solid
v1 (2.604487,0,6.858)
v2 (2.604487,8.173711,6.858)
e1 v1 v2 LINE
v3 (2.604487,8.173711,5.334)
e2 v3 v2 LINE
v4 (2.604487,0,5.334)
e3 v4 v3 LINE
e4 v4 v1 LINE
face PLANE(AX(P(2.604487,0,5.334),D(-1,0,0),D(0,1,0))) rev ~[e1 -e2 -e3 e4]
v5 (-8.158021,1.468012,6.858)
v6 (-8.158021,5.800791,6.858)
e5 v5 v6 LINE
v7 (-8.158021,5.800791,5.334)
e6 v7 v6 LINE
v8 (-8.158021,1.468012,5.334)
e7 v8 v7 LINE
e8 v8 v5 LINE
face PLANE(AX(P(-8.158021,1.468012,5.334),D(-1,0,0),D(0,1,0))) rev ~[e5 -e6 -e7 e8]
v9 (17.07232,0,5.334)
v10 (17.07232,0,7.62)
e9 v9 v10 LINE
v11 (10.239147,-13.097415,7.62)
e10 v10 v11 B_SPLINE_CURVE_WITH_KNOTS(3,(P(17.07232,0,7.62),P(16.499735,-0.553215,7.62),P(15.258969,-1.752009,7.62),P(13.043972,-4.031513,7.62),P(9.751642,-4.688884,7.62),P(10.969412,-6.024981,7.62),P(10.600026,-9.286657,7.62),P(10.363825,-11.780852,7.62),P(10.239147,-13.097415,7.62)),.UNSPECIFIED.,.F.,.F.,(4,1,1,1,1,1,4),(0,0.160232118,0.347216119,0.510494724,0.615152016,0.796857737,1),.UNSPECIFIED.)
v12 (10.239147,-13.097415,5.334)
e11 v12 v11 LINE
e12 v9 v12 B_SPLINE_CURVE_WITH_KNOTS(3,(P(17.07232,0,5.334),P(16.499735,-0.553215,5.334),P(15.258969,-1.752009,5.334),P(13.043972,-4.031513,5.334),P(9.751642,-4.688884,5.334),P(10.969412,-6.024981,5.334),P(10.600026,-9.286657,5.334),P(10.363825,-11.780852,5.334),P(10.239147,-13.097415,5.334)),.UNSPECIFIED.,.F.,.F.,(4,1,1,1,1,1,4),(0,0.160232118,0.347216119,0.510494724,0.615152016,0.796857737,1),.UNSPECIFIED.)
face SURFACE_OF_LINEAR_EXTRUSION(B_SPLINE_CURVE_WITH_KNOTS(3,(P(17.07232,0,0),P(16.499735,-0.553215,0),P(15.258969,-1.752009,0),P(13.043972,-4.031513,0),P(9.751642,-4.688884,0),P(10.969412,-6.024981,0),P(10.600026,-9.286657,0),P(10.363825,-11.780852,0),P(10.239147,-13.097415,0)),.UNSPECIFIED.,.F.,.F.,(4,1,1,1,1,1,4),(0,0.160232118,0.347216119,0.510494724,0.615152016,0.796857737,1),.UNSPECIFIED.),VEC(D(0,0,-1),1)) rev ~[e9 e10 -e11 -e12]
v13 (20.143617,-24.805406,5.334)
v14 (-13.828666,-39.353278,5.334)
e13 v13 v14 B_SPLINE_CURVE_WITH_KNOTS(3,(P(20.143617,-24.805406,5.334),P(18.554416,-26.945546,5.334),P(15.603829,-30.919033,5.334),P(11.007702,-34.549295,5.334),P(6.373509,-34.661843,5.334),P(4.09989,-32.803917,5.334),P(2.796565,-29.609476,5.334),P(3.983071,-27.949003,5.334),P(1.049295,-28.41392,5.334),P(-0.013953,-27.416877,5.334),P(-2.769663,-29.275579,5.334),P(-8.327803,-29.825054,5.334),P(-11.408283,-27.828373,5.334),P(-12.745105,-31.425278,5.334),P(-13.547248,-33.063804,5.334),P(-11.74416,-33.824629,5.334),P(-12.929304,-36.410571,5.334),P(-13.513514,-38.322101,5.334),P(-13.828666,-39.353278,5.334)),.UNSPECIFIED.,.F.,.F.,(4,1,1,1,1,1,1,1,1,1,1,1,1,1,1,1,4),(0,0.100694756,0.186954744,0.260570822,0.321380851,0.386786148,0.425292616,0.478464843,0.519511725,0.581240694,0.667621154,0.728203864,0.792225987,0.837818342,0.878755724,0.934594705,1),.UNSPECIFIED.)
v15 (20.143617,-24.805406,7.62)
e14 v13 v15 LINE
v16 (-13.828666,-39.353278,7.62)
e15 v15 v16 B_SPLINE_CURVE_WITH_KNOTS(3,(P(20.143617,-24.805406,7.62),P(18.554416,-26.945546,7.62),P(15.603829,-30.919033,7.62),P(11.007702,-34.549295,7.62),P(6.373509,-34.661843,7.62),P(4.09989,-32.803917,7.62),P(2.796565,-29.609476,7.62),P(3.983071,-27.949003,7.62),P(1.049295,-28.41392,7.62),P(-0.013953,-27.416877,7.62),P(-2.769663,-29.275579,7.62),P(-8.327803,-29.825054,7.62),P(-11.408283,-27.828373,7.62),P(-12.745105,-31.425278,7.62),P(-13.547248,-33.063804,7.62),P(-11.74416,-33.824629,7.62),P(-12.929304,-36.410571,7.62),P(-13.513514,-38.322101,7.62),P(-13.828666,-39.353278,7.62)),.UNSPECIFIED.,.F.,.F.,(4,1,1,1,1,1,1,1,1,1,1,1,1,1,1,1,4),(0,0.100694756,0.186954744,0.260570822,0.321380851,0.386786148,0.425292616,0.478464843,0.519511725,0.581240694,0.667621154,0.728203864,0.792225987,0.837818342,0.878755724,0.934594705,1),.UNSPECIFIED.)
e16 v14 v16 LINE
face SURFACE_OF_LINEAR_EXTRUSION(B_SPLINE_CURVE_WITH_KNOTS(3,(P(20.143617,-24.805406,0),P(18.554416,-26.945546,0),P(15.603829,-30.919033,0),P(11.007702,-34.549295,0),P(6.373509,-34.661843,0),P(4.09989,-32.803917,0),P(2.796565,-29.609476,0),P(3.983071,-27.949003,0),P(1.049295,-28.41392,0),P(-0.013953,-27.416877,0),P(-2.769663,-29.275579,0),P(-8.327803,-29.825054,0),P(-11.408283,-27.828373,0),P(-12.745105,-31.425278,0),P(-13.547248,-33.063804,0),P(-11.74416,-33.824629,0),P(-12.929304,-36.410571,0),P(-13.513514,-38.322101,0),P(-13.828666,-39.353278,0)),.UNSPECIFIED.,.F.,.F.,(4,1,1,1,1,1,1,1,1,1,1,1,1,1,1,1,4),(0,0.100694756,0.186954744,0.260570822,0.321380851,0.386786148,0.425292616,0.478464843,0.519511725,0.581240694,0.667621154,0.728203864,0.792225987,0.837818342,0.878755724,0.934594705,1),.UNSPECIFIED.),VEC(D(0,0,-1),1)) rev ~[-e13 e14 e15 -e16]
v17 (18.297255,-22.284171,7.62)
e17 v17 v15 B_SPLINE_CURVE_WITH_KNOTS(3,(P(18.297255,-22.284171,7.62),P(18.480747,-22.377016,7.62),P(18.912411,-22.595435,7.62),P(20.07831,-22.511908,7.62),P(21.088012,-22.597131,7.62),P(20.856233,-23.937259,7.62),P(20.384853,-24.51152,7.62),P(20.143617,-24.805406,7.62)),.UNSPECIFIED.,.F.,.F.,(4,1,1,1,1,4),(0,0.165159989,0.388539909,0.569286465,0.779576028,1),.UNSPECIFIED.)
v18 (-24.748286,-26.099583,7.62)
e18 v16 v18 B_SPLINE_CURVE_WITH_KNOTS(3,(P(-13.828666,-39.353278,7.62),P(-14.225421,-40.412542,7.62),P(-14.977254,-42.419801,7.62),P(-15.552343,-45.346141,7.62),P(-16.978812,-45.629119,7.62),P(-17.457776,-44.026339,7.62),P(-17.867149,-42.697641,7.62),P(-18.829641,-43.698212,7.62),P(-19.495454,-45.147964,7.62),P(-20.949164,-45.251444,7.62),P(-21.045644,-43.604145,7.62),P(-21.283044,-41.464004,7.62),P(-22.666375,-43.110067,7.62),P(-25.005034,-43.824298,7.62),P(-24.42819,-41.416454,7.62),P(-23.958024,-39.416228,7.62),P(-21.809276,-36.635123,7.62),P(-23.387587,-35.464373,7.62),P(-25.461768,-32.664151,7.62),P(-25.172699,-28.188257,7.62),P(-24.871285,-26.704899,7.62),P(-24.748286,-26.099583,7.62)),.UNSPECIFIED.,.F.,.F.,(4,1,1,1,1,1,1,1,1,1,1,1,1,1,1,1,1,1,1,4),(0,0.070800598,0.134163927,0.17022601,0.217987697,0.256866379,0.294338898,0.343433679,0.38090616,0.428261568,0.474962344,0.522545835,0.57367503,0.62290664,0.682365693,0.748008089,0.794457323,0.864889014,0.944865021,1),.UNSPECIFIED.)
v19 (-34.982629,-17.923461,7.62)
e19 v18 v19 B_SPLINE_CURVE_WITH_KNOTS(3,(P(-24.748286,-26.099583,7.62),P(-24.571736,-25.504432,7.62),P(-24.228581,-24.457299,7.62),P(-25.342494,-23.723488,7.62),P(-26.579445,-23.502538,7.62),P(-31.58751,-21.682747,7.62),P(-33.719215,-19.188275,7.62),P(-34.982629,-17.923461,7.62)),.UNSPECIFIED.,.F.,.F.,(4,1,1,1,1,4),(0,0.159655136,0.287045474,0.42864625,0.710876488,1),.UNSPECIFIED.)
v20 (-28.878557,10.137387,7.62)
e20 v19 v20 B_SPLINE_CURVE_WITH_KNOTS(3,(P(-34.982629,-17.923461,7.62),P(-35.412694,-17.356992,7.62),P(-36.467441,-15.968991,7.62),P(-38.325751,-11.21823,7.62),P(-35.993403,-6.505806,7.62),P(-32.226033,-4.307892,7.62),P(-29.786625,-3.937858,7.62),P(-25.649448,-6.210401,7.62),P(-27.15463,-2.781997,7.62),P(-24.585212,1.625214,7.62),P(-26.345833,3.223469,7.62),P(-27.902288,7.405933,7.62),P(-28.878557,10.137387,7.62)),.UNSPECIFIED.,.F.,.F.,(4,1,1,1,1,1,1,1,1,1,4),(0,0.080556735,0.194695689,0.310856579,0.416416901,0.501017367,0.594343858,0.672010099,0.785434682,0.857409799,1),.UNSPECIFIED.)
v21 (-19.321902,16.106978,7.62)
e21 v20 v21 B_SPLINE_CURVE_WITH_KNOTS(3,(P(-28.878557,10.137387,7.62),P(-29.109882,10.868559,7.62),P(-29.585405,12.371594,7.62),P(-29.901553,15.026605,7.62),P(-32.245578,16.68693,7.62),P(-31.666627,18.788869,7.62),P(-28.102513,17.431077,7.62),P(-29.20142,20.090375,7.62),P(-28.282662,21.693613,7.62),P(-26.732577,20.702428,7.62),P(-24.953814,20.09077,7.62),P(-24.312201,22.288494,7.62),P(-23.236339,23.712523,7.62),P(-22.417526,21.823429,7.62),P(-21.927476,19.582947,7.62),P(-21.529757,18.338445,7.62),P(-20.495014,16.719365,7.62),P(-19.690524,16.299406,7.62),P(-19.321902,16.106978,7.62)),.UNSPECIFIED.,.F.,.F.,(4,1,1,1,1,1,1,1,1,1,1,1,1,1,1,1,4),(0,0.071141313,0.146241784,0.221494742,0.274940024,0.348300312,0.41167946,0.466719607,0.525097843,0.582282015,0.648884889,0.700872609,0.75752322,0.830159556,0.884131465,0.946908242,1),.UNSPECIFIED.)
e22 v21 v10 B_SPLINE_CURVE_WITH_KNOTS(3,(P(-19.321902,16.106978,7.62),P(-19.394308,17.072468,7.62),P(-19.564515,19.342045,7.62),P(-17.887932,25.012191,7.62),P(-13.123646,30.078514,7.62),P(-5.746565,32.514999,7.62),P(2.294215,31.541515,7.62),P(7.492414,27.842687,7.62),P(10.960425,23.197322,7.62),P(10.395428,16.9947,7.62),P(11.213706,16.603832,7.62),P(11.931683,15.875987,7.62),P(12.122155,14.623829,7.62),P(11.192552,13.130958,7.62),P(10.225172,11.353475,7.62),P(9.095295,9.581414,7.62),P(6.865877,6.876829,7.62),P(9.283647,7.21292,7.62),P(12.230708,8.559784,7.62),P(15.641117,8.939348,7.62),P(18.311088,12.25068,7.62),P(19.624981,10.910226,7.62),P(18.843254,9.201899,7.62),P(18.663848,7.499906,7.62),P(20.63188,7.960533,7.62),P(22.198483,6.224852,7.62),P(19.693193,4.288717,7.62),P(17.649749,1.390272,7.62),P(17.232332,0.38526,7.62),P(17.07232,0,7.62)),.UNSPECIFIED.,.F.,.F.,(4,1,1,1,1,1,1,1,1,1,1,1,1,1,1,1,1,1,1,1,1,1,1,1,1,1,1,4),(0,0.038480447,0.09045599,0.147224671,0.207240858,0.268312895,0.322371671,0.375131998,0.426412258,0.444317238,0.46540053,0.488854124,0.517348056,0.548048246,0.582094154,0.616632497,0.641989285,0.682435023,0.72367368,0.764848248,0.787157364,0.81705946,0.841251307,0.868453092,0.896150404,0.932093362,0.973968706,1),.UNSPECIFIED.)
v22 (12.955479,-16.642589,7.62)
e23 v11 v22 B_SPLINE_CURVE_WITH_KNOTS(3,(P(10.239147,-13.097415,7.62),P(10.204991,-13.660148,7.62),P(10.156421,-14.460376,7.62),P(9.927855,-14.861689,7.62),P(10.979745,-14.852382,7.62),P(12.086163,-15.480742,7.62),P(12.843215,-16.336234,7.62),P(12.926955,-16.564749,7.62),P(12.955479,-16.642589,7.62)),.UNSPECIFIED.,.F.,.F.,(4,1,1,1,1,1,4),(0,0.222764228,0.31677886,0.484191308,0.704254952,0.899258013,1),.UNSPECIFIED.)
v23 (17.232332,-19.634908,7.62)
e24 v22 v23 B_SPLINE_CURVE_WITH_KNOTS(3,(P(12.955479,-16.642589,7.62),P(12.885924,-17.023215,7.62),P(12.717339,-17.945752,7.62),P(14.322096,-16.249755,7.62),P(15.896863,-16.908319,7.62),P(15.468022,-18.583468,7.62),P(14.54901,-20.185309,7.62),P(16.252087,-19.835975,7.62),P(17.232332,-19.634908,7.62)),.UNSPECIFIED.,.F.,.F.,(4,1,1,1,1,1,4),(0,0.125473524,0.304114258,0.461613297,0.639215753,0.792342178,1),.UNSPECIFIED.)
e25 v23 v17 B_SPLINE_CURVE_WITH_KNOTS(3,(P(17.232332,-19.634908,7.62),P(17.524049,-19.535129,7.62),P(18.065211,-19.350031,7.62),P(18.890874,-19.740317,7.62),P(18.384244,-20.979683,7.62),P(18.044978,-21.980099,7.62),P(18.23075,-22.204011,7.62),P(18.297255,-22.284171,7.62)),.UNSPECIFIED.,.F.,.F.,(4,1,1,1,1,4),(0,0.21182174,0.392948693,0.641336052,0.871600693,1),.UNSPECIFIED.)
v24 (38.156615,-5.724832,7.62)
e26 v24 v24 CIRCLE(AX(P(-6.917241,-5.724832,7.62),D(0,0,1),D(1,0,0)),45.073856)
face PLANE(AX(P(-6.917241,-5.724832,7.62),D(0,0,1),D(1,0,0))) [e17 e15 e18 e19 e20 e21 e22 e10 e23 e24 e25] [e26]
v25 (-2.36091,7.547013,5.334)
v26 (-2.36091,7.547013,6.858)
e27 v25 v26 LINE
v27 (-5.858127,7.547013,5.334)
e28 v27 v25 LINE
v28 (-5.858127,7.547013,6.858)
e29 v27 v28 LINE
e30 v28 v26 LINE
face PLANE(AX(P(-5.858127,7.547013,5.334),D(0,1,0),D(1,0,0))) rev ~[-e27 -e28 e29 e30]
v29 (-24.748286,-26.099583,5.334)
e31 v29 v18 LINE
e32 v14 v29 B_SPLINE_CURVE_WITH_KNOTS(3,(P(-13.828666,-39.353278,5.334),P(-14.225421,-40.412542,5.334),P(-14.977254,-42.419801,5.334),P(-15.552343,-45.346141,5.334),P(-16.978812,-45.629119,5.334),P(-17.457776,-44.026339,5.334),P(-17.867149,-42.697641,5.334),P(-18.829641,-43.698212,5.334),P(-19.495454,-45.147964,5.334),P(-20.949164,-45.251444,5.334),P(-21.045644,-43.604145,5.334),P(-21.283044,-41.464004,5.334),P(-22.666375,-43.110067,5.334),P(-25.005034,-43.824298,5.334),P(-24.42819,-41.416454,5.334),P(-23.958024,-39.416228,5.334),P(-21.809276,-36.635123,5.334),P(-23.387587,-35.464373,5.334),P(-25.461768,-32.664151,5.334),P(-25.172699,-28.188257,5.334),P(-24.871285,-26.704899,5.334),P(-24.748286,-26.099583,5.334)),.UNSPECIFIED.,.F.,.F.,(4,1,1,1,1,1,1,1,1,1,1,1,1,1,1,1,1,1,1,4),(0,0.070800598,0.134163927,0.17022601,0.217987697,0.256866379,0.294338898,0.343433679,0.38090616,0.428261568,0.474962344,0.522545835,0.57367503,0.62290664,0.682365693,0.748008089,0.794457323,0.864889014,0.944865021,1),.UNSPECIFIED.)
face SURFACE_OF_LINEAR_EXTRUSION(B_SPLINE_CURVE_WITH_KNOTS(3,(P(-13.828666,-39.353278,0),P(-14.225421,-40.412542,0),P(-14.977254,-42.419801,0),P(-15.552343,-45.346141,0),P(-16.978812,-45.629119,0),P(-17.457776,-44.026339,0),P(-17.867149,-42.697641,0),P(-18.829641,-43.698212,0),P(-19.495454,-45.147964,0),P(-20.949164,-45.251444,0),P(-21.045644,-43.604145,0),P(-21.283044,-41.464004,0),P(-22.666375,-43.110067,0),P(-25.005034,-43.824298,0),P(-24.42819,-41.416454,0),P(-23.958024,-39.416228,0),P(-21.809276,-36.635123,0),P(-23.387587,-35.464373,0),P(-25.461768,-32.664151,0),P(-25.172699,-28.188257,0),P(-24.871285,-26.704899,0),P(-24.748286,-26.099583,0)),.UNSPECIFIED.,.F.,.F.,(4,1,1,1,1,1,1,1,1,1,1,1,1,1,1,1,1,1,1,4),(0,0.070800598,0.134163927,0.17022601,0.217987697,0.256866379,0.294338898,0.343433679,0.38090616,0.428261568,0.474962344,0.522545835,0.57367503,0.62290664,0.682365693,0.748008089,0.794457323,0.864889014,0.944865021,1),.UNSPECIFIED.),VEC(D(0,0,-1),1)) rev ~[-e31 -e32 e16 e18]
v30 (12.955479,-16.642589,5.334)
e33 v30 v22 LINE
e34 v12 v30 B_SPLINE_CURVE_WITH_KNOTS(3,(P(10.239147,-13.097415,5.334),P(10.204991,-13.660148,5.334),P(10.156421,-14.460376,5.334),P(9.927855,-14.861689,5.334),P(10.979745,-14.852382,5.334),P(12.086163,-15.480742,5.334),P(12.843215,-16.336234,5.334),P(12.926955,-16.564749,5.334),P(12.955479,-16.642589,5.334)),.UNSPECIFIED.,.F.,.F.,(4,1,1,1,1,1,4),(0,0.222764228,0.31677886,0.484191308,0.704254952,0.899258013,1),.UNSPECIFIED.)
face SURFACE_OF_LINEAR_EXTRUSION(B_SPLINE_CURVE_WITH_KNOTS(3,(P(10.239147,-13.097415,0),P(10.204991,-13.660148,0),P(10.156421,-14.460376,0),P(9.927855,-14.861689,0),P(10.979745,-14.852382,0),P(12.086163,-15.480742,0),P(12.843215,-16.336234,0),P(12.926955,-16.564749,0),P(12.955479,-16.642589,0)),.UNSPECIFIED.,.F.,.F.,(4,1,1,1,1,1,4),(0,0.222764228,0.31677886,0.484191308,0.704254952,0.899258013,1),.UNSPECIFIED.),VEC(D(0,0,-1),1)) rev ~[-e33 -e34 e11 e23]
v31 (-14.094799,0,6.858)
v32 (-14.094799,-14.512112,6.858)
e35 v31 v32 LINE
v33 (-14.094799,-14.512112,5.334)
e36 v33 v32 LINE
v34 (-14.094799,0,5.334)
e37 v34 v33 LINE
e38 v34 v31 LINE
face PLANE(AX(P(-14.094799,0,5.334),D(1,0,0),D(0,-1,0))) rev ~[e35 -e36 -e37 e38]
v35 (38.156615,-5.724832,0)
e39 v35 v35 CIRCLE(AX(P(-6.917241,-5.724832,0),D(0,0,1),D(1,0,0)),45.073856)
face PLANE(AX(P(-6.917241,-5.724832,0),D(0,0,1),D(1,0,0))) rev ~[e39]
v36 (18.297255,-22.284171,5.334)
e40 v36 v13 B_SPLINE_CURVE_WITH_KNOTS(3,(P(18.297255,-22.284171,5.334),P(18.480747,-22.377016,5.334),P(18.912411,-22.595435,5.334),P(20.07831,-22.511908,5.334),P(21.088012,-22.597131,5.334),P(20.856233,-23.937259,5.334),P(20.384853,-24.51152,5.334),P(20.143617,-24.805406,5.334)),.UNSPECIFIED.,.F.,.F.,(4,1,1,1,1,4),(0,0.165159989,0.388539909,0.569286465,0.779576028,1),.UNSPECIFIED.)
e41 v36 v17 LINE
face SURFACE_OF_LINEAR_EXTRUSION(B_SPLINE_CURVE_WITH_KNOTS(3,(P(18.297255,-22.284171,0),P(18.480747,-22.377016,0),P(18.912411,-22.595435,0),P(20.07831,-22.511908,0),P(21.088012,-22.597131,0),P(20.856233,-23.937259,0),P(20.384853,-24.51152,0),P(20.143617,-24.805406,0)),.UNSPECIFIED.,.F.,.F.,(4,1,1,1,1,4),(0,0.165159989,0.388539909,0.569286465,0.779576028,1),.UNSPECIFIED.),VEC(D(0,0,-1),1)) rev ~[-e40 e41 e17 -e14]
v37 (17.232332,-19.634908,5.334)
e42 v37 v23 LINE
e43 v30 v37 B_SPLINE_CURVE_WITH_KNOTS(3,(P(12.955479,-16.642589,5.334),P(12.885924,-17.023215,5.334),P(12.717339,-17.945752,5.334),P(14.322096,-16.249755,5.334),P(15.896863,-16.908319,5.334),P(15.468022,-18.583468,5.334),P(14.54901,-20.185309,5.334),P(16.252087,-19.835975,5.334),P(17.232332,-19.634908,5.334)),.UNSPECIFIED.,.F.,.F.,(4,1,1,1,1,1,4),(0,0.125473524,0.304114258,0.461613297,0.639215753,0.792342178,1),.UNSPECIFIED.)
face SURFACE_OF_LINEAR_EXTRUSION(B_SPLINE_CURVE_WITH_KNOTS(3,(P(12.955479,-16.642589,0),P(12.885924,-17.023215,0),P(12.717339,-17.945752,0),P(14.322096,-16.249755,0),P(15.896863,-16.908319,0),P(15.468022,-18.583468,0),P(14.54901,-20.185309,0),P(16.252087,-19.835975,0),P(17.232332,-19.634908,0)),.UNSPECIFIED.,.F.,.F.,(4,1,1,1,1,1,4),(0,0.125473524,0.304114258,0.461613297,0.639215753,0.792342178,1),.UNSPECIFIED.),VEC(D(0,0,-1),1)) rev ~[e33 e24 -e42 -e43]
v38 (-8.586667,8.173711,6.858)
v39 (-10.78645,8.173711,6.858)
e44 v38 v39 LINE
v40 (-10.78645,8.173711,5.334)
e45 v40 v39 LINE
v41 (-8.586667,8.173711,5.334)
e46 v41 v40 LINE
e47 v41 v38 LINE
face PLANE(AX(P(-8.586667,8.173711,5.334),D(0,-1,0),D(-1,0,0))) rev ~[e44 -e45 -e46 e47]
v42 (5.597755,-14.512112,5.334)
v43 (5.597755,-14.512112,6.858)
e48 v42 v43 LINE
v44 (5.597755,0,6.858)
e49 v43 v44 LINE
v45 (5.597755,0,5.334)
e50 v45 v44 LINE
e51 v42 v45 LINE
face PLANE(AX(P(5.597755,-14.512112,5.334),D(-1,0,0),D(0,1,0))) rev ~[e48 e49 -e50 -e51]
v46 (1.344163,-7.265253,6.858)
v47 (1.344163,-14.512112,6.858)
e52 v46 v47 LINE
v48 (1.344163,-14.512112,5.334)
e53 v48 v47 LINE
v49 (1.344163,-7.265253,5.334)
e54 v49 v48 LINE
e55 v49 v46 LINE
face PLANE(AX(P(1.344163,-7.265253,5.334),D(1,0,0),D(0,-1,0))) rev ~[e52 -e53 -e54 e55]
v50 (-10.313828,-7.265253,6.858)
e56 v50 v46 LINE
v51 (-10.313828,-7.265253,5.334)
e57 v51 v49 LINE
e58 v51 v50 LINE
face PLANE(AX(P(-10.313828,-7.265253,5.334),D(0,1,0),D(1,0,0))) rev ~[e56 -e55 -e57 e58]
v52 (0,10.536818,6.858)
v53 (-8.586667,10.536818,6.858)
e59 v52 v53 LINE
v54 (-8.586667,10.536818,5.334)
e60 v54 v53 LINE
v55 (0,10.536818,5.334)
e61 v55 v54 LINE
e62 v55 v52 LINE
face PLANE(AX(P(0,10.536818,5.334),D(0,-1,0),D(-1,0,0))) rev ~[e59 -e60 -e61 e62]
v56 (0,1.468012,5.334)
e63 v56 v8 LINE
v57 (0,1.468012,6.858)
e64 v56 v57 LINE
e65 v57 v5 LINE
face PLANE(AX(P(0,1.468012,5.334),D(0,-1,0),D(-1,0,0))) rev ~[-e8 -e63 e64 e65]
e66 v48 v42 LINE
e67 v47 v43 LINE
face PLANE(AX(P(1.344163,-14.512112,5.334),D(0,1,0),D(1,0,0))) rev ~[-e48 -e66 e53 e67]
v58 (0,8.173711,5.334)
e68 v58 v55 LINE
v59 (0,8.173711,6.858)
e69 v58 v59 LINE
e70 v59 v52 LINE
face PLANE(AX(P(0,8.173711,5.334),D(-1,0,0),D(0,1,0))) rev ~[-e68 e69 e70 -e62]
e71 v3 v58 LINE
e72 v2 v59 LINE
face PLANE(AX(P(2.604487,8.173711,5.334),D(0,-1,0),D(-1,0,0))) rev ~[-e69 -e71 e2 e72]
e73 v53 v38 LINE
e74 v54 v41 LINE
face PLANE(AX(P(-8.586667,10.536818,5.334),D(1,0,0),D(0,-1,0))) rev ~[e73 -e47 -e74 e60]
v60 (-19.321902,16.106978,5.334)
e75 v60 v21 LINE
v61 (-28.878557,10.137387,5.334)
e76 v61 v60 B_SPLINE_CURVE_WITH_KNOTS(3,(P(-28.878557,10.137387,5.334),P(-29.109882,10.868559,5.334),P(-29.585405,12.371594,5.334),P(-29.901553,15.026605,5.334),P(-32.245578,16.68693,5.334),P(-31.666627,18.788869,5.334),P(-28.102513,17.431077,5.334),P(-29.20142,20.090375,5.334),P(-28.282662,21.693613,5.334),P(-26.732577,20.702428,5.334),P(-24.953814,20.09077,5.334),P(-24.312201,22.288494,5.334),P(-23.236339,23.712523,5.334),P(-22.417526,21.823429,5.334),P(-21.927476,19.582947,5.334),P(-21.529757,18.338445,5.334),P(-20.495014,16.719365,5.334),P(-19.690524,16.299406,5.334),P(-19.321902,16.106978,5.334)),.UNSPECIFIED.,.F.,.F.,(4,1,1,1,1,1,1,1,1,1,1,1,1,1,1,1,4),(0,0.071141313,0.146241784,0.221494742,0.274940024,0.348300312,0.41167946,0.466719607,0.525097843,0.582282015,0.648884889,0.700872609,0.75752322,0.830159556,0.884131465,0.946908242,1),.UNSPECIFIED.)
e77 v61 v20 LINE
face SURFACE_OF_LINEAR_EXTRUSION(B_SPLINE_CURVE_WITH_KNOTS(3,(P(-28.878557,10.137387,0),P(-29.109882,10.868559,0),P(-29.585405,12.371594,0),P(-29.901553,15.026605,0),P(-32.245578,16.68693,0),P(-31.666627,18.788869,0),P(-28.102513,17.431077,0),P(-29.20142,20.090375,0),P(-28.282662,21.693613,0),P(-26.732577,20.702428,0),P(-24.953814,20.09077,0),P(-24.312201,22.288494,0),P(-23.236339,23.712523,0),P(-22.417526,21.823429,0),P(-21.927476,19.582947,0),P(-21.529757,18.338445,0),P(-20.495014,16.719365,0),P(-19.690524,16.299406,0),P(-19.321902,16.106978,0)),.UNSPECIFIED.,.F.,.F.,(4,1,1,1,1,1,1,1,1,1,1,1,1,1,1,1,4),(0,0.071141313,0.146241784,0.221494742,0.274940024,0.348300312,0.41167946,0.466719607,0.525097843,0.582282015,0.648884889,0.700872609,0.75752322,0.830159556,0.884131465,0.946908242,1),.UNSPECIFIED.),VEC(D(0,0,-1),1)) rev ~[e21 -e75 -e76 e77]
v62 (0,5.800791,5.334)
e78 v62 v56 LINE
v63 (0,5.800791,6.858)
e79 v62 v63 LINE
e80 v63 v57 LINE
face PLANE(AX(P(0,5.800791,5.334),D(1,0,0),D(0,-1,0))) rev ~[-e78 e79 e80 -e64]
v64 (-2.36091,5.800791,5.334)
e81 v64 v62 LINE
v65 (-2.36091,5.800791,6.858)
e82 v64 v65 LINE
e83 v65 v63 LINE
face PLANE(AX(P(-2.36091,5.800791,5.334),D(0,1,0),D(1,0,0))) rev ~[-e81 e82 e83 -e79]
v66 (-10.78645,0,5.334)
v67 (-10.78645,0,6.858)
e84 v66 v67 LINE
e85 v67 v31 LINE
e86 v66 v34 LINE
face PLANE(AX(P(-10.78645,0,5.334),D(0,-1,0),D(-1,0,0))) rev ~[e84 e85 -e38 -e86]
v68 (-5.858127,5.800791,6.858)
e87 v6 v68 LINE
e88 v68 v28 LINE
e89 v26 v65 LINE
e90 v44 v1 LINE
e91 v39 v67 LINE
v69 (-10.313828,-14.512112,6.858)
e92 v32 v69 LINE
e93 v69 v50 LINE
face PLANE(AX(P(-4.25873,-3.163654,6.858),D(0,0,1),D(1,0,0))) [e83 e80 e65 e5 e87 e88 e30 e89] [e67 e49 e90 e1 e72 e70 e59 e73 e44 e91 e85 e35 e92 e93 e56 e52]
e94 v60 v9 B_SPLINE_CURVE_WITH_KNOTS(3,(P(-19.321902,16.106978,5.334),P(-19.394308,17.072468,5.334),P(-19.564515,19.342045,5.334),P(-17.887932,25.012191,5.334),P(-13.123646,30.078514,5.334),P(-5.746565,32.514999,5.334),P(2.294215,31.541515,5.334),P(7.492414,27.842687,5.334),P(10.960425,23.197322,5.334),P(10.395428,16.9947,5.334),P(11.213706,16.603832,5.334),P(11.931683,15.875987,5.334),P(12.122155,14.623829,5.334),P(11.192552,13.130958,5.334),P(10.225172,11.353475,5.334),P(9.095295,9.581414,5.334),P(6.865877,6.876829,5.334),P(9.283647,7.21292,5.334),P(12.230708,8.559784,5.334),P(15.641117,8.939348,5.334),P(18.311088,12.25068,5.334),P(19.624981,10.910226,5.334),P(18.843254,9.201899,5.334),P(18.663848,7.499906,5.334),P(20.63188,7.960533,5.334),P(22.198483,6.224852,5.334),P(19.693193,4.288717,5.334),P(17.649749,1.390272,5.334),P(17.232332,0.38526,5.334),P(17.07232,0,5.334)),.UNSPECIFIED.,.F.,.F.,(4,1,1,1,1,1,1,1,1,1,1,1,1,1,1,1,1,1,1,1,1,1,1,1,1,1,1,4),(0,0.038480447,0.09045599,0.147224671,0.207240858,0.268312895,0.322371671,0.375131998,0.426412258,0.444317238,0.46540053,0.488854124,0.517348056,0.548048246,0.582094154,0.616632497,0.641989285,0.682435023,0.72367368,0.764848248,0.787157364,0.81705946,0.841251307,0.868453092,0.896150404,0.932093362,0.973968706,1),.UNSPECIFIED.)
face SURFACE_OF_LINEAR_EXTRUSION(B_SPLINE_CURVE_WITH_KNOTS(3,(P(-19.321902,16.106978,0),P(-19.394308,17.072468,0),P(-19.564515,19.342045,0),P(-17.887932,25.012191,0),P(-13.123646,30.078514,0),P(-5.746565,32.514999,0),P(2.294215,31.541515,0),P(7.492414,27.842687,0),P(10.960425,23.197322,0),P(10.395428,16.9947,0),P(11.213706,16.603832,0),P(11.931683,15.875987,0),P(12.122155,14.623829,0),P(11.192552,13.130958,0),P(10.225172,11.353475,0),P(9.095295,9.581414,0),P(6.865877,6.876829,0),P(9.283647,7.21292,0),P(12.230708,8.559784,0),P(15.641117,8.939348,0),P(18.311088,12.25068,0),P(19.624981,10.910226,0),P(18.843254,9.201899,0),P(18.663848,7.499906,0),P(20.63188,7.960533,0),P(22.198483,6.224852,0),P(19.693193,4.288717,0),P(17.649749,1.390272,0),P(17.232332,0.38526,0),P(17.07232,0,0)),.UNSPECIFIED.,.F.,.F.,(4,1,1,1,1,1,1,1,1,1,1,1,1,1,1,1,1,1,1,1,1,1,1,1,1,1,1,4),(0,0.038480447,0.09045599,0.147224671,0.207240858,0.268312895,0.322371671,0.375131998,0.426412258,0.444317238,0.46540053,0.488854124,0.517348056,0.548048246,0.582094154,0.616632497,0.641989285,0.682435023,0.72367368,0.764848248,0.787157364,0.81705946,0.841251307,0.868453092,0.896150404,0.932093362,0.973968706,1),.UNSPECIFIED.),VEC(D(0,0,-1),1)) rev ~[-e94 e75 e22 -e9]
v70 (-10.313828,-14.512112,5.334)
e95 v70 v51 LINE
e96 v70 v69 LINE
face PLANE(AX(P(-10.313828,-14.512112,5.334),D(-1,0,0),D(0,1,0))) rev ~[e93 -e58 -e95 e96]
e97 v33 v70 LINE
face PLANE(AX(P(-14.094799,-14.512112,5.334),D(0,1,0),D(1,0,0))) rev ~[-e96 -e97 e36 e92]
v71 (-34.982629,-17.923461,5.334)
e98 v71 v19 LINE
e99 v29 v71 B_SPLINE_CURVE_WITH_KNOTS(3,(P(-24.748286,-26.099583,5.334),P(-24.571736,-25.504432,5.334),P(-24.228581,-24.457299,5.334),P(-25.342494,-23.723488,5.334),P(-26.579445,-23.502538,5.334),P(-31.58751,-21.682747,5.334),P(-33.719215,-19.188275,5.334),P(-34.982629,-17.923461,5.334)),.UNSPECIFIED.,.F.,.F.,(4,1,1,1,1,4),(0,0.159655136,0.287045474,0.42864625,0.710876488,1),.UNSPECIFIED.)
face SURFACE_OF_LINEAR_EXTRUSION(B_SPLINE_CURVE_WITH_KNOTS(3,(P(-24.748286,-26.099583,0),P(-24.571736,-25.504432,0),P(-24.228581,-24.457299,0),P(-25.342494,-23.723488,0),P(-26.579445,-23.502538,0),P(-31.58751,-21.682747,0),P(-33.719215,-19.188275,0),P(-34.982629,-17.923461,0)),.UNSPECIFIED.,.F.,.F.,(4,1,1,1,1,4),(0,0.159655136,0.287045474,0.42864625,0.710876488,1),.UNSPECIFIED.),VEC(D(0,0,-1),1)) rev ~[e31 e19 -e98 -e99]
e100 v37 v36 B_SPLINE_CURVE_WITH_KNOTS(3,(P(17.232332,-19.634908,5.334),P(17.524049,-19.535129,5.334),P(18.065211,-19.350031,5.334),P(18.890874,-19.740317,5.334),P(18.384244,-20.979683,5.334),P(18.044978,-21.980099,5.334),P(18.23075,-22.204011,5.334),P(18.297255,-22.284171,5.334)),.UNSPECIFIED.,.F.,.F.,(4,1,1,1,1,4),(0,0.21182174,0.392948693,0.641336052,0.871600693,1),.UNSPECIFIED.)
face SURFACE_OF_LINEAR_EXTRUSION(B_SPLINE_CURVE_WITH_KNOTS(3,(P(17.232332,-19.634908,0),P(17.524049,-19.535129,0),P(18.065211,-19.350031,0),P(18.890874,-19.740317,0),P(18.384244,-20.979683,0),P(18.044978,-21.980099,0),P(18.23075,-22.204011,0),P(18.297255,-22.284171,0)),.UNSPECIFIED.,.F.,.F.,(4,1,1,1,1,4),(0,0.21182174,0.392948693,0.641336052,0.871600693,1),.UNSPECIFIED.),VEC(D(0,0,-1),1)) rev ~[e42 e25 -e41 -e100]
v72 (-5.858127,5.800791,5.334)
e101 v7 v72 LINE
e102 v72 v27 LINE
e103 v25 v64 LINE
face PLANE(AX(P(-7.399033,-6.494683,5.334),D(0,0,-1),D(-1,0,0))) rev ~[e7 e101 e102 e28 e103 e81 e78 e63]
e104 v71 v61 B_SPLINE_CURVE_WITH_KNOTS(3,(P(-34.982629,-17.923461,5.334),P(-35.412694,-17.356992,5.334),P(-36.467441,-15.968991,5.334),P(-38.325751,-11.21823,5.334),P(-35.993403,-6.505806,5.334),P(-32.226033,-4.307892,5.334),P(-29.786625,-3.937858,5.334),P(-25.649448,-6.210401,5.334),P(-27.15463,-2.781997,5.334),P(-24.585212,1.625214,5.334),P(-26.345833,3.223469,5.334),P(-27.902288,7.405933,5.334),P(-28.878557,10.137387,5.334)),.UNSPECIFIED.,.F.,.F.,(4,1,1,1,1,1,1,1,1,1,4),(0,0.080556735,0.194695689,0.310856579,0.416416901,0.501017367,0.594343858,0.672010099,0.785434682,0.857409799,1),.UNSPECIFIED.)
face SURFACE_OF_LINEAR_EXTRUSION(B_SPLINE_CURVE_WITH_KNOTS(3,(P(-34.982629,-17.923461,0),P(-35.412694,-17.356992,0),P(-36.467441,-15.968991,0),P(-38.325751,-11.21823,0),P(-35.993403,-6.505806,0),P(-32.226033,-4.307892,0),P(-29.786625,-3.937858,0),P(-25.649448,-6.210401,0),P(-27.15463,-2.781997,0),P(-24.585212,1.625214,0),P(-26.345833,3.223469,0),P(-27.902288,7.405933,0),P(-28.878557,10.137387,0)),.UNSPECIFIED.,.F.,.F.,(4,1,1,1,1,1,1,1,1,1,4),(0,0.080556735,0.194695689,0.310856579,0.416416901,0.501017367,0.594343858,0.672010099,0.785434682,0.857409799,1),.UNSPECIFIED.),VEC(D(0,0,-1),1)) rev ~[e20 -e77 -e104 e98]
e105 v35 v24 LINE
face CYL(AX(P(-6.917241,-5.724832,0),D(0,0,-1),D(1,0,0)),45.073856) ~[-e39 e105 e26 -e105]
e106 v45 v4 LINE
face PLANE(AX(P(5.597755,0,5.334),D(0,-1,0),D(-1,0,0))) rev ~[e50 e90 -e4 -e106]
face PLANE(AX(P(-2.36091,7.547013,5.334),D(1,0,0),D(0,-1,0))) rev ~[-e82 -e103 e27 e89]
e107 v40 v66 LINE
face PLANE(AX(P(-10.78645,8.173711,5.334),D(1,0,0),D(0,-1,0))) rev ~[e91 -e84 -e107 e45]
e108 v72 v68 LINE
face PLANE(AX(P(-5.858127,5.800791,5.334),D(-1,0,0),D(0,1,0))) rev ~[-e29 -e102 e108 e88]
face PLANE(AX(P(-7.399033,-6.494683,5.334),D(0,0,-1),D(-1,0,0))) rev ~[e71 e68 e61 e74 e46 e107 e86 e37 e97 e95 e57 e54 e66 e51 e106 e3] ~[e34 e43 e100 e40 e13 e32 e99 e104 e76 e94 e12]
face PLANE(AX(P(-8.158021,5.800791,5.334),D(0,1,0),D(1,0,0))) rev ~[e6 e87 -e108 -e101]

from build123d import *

# Parameters (mm, degrees)
F1_DEPTH = 5.334
F0_R     = 45.0738557328
F2_DEPTH = 7.62
F4_DEPTH = 1.524


with BuildPart() as f1:
    # F0 (on Top) → F1 (new body)
    with BuildSketch(Plane.XY):
        with BuildLine():
            add(Edge.make_bspline(
                [(-19.3219017237, 16.1069780588), (-19.3943083525, 17.0724678186), (-19.5645146207, 19.3420446759), (-17.8879321459, 25.0121906155), (-13.1236458051, 30.07851388), (-5.746564977, 32.5149991759), (2.2942145556, 31.5415152491), (7.4924138928, 27.8426868969), (10.9604251889, 23.1973223745), (10.3954275356, 16.9946999808), (11.2137061442, 16.6038322642), (11.9316831039, 15.8759873807), (12.1221553464, 14.6238289378), (11.1925517778, 13.1309577911), (10.2251723624, 11.3534746324), (9.095295254, 9.5814138953), (6.8658766999, 6.876829162), (9.2836474481, 7.2129201155), (12.230707698, 8.5597844327), (15.6411170603, 8.939347696), (18.3110884296, 12.2506795252), (19.6249809685, 10.9102262695), (18.8432540646, 9.2018992674), (18.6638476276, 7.4999055256), (20.6318796, 7.9605331018), (22.1984825441, 6.2248515929), (19.6931933596, 4.2887168903), (17.6497494242, 1.3902718304), (17.2323324, 0.3852604987), (17.0723199844, 0)],
                knots=[0, 0, 0, 0, 0.0384804471, 0.0904559901, 0.1472246706, 0.2072408579, 0.2683128945, 0.3223716713, 0.3751319981, 0.4264122575, 0.4443172383, 0.4654005304, 0.4888541236, 0.5173480561, 0.5480482459, 0.5820941535, 0.6166324972, 0.641989285, 0.6824350234, 0.7236736798, 0.764848248, 0.7871573637, 0.8170594604, 0.8412513074, 0.8684530924, 0.8961504037, 0.932093362, 0.9739687062, 1, 1, 1, 1], degree=3))
            add(Edge.make_bspline(
                [(-28.8785565645, 10.13738662), (-29.1098815843, 10.8685587547), (-29.5854053304, 12.3715942356), (-29.9015530751, 15.0266053845), (-32.2455780811, 16.6869304488), (-31.6666268825, 18.7888694616), (-28.1025133117, 17.4310772679), (-29.2014203477, 20.0903750924), (-28.2826623547, 21.6936131306), (-26.7325767235, 20.7024282777), (-24.953813622, 20.090770375), (-24.3122010822, 22.288493957), (-23.2363386362, 23.7125231136), (-22.4175255265, 21.8234291546), (-21.9274755255, 19.5829465775), (-21.5297569744, 18.3384446464), (-20.495013873, 16.7193654648), (-19.6905243446, 16.2994062514), (-19.3219017237, 16.1069780588)],
                knots=[0, 0, 0, 0, 0.0711413128, 0.1462417839, 0.2214947418, 0.2749400242, 0.3483003116, 0.4116794604, 0.4667196071, 0.5250978425, 0.5822820154, 0.6488848888, 0.7008726088, 0.7575232195, 0.8301595564, 0.8841314649, 0.9469082424, 1, 1, 1, 1], degree=3))
            add(Edge.make_bspline(
                [(-34.9826291203, -17.9234612733), (-35.4126941042, -17.3569919722), (-36.4674411482, -15.9689907631), (-38.3257507004, -11.2182296432), (-35.9934031506, -6.5058059775), (-32.226033043, -4.3078922544), (-29.7866246683, -3.9378583923), (-25.6494481963, -6.2104009393), (-27.1546297368, -2.7819967527), (-24.5852118315, 1.6252140173), (-26.3458331069, 3.223469036), (-27.9022876561, 7.4059325806), (-28.8785565645, 10.13738662)],
                knots=[0, 0, 0, 0, 0.0805567349, 0.1946956895, 0.3108565794, 0.4164169014, 0.5010173674, 0.5943438576, 0.6720100992, 0.7854346817, 0.8574097988, 1, 1, 1, 1], degree=3))
            add(Edge.make_bspline(
                [(-24.7482862324, -26.0995831341), (-24.571735848, -25.5044320418), (-24.2285808383, -24.4572991191), (-25.3424942684, -23.7234884801), (-26.5794451073, -23.5025376612), (-31.5875098927, -21.6827470719), (-33.7192146499, -19.1882746859), (-34.9826291203, -17.9234612733)],
                knots=[0, 0, 0, 0, 0.1596551365, 0.2870454743, 0.4286462499, 0.7108764877, 1, 1, 1, 1], degree=3))
            add(Edge.make_bspline(
                [(-13.8286659494, -39.3532775342), (-14.2254210088, -40.4125422209), (-14.9772538808, -42.4198008376), (-15.5523426145, -45.3461406498), (-16.9788124226, -45.6291187257), (-17.4577761201, -44.0263387354), (-17.867148809, -42.6976409473), (-18.8296413587, -43.6982124837), (-19.4954537426, -45.1479635105), (-20.9491635228, -45.2514440288), (-21.0456442854, -43.6041445608), (-21.2830441863, -41.4640042007), (-22.6663745928, -43.1100667394), (-25.005033813, -43.8242984426), (-24.4281898123, -41.4164535545), (-23.9580243904, -39.4162281512), (-21.8092761389, -36.6351231809), (-23.3875865712, -35.4643730018), (-25.4617678703, -32.6641511181), (-25.1726990068, -28.1882567497), (-24.871284843, -26.7048993929), (-24.7482862324, -26.0995831341)],
                knots=[0, 0, 0, 0, 0.0708005979, 0.134163927, 0.17022601, 0.217987697, 0.2568663794, 0.2943388977, 0.3434336791, 0.3809061596, 0.4282615682, 0.4749623441, 0.5225458347, 0.5736750298, 0.6229066395, 0.6823656932, 0.7480080885, 0.7944573234, 0.8648890145, 0.9448650213, 1, 1, 1, 1], degree=3))
            add(Edge.make_bspline(
                [(20.1436169446, -24.8054061085), (18.5544159257, -26.9455458482), (15.6038286316, -30.9190325555), (11.0077023415, -34.5492952867), (6.3735087238, -34.6618434271), (4.0998895079, -32.8039171769), (2.7965650691, -29.6094758616), (3.9830709527, -27.9490026116), (1.0492949989, -28.4139201031), (-0.0139532034, -27.4168773678), (-2.7696628006, -29.2755786468), (-8.3278026295, -29.8250541989), (-11.4082833312, -27.8283733996), (-12.7451052845, -31.4252777802), (-13.5472480525, -33.0638044076), (-11.7441601888, -33.8246293666), (-12.9293036645, -36.410570948), (-13.5135135749, -38.3221013512), (-13.8286659494, -39.3532775342)],
                knots=[0, 0, 0, 0, 0.1006947565, 0.1869547437, 0.2605708216, 0.3213808511, 0.3867861484, 0.4252926162, 0.4784648428, 0.5195117248, 0.5812406939, 0.6676211538, 0.7282038636, 0.7922259868, 0.8378183424, 0.8787557237, 0.934594705, 1, 1, 1, 1], degree=3))
            add(Edge.make_bspline(
                [(18.2972550392, -22.2841706127), (18.4807465156, -22.3770157501), (18.9124113645, -22.595434518), (20.0783104106, -22.5119080032), (21.0880122209, -22.5971311847), (20.856233029, -23.9372585191), (20.38485273, -24.5115195822), (20.1436169446, -24.8054061085)],
                knots=[0, 0, 0, 0, 0.1651599888, 0.3885399093, 0.5692864651, 0.7795760278, 1, 1, 1, 1], degree=3))
            add(Edge.make_bspline(
                [(17.2323324, -19.6349080652), (17.5240493727, -19.5351294088), (18.0652110257, -19.3500308795), (18.8908744409, -19.7403165645), (18.3842442934, -20.9796834432), (18.0449782766, -21.9800989911), (18.2307499986, -22.2040114442), (18.2972550392, -22.2841706127)],
                knots=[0, 0, 0, 0, 0.2118217401, 0.3929486926, 0.6413360522, 0.8716006929, 1, 1, 1, 1], degree=3))
            add(Edge.make_bspline(
                [(12.9554793239, -16.6425891221), (12.8859236574, -17.0232154854), (12.7173393282, -17.9457519715), (14.3220960704, -16.2497550524), (15.896862907, -16.9083189832), (15.4680217471, -18.5834678208), (14.5490103871, -20.1853085624), (16.2520868546, -19.835975113), (17.2323324, -19.6349080652)],
                knots=[0, 0, 0, 0, 0.125473524, 0.3041142576, 0.461613297, 0.6392157532, 0.7923421775, 1, 1, 1, 1], degree=3))
            add(Edge.make_bspline(
                [(10.2391466498, -13.0974147469), (10.2049913162, -13.6601484293), (10.1564211857, -14.4603762558), (9.9278547353, -14.8616889987), (10.9797453187, -14.8523816518), (12.0861625027, -15.4807416393), (12.8432154508, -16.3362343559), (12.9269545939, -16.5647485243), (12.9554793239, -16.6425891221)],
                knots=[0, 0, 0, 0, 0.2227642281, 0.3167788595, 0.4841913079, 0.7042549516, 0.8992580131, 1, 1, 1, 1], degree=3))
            add(Edge.make_bspline(
                [(17.0723199844, 0), (16.4997354575, -0.5532151134), (15.2589693799, -1.7520085038), (13.0439715121, -4.0315130169), (9.7516422979, -4.6888836237), (10.9694118077, -6.0249808981), (10.6000257229, -9.286657189), (10.3638252342, -11.7808522388), (10.2391466498, -13.0974147469)],
                knots=[0, 0, 0, 0, 0.1602321184, 0.3472161187, 0.5104947241, 0.6151520163, 0.7968577371, 1, 1, 1, 1], degree=3))
        make_face()
    extrude(amount=F1_DEPTH)

    # F0 (on Top) → F2 (join)
    with BuildSketch(Plane.XY):
        with Locations((-6.9172410294, -5.7248324156)):
            Circle(F0_R)
        with BuildLine():
            add(Edge.make_bspline(
                [(-28.8785565645, 10.13738662), (-29.1098815843, 10.8685587547), (-29.5854053304, 12.3715942356), (-29.9015530751, 15.0266053845), (-32.2455780811, 16.6869304488), (-31.6666268825, 18.7888694616), (-28.1025133117, 17.4310772679), (-29.2014203477, 20.0903750924), (-28.2826623547, 21.6936131306), (-26.7325767235, 20.7024282777), (-24.953813622, 20.090770375), (-24.3122010822, 22.288493957), (-23.2363386362, 23.7125231136), (-22.4175255265, 21.8234291546), (-21.9274755255, 19.5829465775), (-21.5297569744, 18.3384446464), (-20.495013873, 16.7193654648), (-19.6905243446, 16.2994062514), (-19.3219017237, 16.1069780588)],
                knots=[0, 0, 0, 0, 0.0711413128, 0.1462417839, 0.2214947418, 0.2749400242, 0.3483003116, 0.4116794604, 0.4667196071, 0.5250978425, 0.5822820154, 0.6488848888, 0.7008726088, 0.7575232195, 0.8301595564, 0.8841314649, 0.9469082424, 1, 1, 1, 1], degree=3))
            add(Edge.make_bspline(
                [(-19.3219017237, 16.1069780588), (-19.3943083525, 17.0724678186), (-19.5645146207, 19.3420446759), (-17.8879321459, 25.0121906155), (-13.1236458051, 30.07851388), (-5.746564977, 32.5149991759), (2.2942145556, 31.5415152491), (7.4924138928, 27.8426868969), (10.9604251889, 23.1973223745), (10.3954275356, 16.9946999808), (11.2137061442, 16.6038322642), (11.9316831039, 15.8759873807), (12.1221553464, 14.6238289378), (11.1925517778, 13.1309577911), (10.2251723624, 11.3534746324), (9.095295254, 9.5814138953), (6.8658766999, 6.876829162), (9.2836474481, 7.2129201155), (12.230707698, 8.5597844327), (15.6411170603, 8.939347696), (18.3110884296, 12.2506795252), (19.6249809685, 10.9102262695), (18.8432540646, 9.2018992674), (18.6638476276, 7.4999055256), (20.6318796, 7.9605331018), (22.1984825441, 6.2248515929), (19.6931933596, 4.2887168903), (17.6497494242, 1.3902718304), (17.2323324, 0.3852604987), (17.0723199844, 0)],
                knots=[0, 0, 0, 0, 0.0384804471, 0.0904559901, 0.1472246706, 0.2072408579, 0.2683128945, 0.3223716713, 0.3751319981, 0.4264122575, 0.4443172383, 0.4654005304, 0.4888541236, 0.5173480561, 0.5480482459, 0.5820941535, 0.6166324972, 0.641989285, 0.6824350234, 0.7236736798, 0.764848248, 0.7871573637, 0.8170594604, 0.8412513074, 0.8684530924, 0.8961504037, 0.932093362, 0.9739687062, 1, 1, 1, 1], degree=3))
            add(Edge.make_bspline(
                [(17.0723199844, 0), (16.4997354575, -0.5532151134), (15.2589693799, -1.7520085038), (13.0439715121, -4.0315130169), (9.7516422979, -4.6888836237), (10.9694118077, -6.0249808981), (10.6000257229, -9.286657189), (10.3638252342, -11.7808522388), (10.2391466498, -13.0974147469)],
                knots=[0, 0, 0, 0, 0.1602321184, 0.3472161187, 0.5104947241, 0.6151520163, 0.7968577371, 1, 1, 1, 1], degree=3))
            add(Edge.make_bspline(
                [(10.2391466498, -13.0974147469), (10.2049913162, -13.6601484293), (10.1564211857, -14.4603762558), (9.9278547353, -14.8616889987), (10.9797453187, -14.8523816518), (12.0861625027, -15.4807416393), (12.8432154508, -16.3362343559), (12.9269545939, -16.5647485243), (12.9554793239, -16.6425891221)],
                knots=[0, 0, 0, 0, 0.2227642281, 0.3167788595, 0.4841913079, 0.7042549516, 0.8992580131, 1, 1, 1, 1], degree=3))
            add(Edge.make_bspline(
                [(12.9554793239, -16.6425891221), (12.8859236574, -17.0232154854), (12.7173393282, -17.9457519715), (14.3220960704, -16.2497550524), (15.896862907, -16.9083189832), (15.4680217471, -18.5834678208), (14.5490103871, -20.1853085624), (16.2520868546, -19.835975113), (17.2323324, -19.6349080652)],
                knots=[0, 0, 0, 0, 0.125473524, 0.3041142576, 0.461613297, 0.6392157532, 0.7923421775, 1, 1, 1, 1], degree=3))
            add(Edge.make_bspline(
                [(17.2323324, -19.6349080652), (17.5240493727, -19.5351294088), (18.0652110257, -19.3500308795), (18.8908744409, -19.7403165645), (18.3842442934, -20.9796834432), (18.0449782766, -21.9800989911), (18.2307499986, -22.2040114442), (18.2972550392, -22.2841706127)],
                knots=[0, 0, 0, 0, 0.2118217401, 0.3929486926, 0.6413360522, 0.8716006929, 1, 1, 1, 1], degree=3))
            add(Edge.make_bspline(
                [(18.2972550392, -22.2841706127), (18.4807465156, -22.3770157501), (18.9124113645, -22.595434518), (20.0783104106, -22.5119080032), (21.0880122209, -22.5971311847), (20.856233029, -23.9372585191), (20.38485273, -24.5115195822), (20.1436169446, -24.8054061085)],
                knots=[0, 0, 0, 0, 0.1651599888, 0.3885399093, 0.5692864651, 0.7795760278, 1, 1, 1, 1], degree=3))
            add(Edge.make_bspline(
                [(20.1436169446, -24.8054061085), (18.5544159257, -26.9455458482), (15.6038286316, -30.9190325555), (11.0077023415, -34.5492952867), (6.3735087238, -34.6618434271), (4.0998895079, -32.8039171769), (2.7965650691, -29.6094758616), (3.9830709527, -27.9490026116), (1.0492949989, -28.4139201031), (-0.0139532034, -27.4168773678), (-2.7696628006, -29.2755786468), (-8.3278026295, -29.8250541989), (-11.4082833312, -27.8283733996), (-12.7451052845, -31.4252777802), (-13.5472480525, -33.0638044076), (-11.7441601888, -33.8246293666), (-12.9293036645, -36.410570948), (-13.5135135749, -38.3221013512), (-13.8286659494, -39.3532775342)],
                knots=[0, 0, 0, 0, 0.1006947565, 0.1869547437, 0.2605708216, 0.3213808511, 0.3867861484, 0.4252926162, 0.4784648428, 0.5195117248, 0.5812406939, 0.6676211538, 0.7282038636, 0.7922259868, 0.8378183424, 0.8787557237, 0.934594705, 1, 1, 1, 1], degree=3))
            add(Edge.make_bspline(
                [(-13.8286659494, -39.3532775342), (-14.2254210088, -40.4125422209), (-14.9772538808, -42.4198008376), (-15.5523426145, -45.3461406498), (-16.9788124226, -45.6291187257), (-17.4577761201, -44.0263387354), (-17.867148809, -42.6976409473), (-18.8296413587, -43.6982124837), (-19.4954537426, -45.1479635105), (-20.9491635228, -45.2514440288), (-21.0456442854, -43.6041445608), (-21.2830441863, -41.4640042007), (-22.6663745928, -43.1100667394), (-25.005033813, -43.8242984426), (-24.4281898123, -41.4164535545), (-23.9580243904, -39.4162281512), (-21.8092761389, -36.6351231809), (-23.3875865712, -35.4643730018), (-25.4617678703, -32.6641511181), (-25.1726990068, -28.1882567497), (-24.871284843, -26.7048993929), (-24.7482862324, -26.0995831341)],
                knots=[0, 0, 0, 0, 0.0708005979, 0.134163927, 0.17022601, 0.217987697, 0.2568663794, 0.2943388977, 0.3434336791, 0.3809061596, 0.4282615682, 0.4749623441, 0.5225458347, 0.5736750298, 0.6229066395, 0.6823656932, 0.7480080885, 0.7944573234, 0.8648890145, 0.9448650213, 1, 1, 1, 1], degree=3))
            add(Edge.make_bspline(
                [(-24.7482862324, -26.0995831341), (-24.571735848, -25.5044320418), (-24.2285808383, -24.4572991191), (-25.3424942684, -23.7234884801), (-26.5794451073, -23.5025376612), (-31.5875098927, -21.6827470719), (-33.7192146499, -19.1882746859), (-34.9826291203, -17.9234612733)],
                knots=[0, 0, 0, 0, 0.1596551365, 0.2870454743, 0.4286462499, 0.7108764877, 1, 1, 1, 1], degree=3))
            add(Edge.make_bspline(
                [(-34.9826291203, -17.9234612733), (-35.4126941042, -17.3569919722), (-36.4674411482, -15.9689907631), (-38.3257507004, -11.2182296432), (-35.9934031506, -6.5058059775), (-32.226033043, -4.3078922544), (-29.7866246683, -3.9378583923), (-25.6494481963, -6.2104009393), (-27.1546297368, -2.7819967527), (-24.5852118315, 1.6252140173), (-26.3458331069, 3.223469036), (-27.9022876561, 7.4059325806), (-28.8785565645, 10.13738662)],
                knots=[0, 0, 0, 0, 0.0805567349, 0.1946956895, 0.3108565794, 0.4164169014, 0.5010173674, 0.5943438576, 0.6720100992, 0.7854346817, 0.8574097988, 1, 1, 1, 1], degree=3))
        make_face(mode=Mode.SUBTRACT)
    extrude(amount=F2_DEPTH)

    # F3 (on face) → F4 (join)
    with BuildSketch(Plane.XY.offset(5.334)):
        Polygon((0, 8.1737106666), (0, 10.5368178338), (-8.5866667151, 10.5368178338), (-8.5866667151, 8.1737106666), (-10.786450468, 8.1737106666), (-10.786450468, 0), (-14.0947988257, 0), (-14.0947988257, -14.5121123642), (-10.3138284758, -14.5121123642), (-10.3138284758, -7.2652525268), (1.3441634364, -7.2652525268), (1.3441634364, -14.5121123642), (5.5977548473, -14.5121123642), (5.5977548473, 0), (2.6044873521, 0), (2.6044873521, 8.1737106666), align=None)
        Polygon((-8.1580206752, 1.4680116437), (-8.1580206752, 5.8007910848), (-5.8581270278, 5.8007910848), (-5.8581270278, 7.5470129959), (-2.3609097116, 7.5470129959), (-2.3609097116, 5.8007910848), (0, 5.8007910848), (0, 1.4680116437), align=None, mode=Mode.SUBTRACT)
    extrude(amount=F4_DEPTH)


solid = f1.part
